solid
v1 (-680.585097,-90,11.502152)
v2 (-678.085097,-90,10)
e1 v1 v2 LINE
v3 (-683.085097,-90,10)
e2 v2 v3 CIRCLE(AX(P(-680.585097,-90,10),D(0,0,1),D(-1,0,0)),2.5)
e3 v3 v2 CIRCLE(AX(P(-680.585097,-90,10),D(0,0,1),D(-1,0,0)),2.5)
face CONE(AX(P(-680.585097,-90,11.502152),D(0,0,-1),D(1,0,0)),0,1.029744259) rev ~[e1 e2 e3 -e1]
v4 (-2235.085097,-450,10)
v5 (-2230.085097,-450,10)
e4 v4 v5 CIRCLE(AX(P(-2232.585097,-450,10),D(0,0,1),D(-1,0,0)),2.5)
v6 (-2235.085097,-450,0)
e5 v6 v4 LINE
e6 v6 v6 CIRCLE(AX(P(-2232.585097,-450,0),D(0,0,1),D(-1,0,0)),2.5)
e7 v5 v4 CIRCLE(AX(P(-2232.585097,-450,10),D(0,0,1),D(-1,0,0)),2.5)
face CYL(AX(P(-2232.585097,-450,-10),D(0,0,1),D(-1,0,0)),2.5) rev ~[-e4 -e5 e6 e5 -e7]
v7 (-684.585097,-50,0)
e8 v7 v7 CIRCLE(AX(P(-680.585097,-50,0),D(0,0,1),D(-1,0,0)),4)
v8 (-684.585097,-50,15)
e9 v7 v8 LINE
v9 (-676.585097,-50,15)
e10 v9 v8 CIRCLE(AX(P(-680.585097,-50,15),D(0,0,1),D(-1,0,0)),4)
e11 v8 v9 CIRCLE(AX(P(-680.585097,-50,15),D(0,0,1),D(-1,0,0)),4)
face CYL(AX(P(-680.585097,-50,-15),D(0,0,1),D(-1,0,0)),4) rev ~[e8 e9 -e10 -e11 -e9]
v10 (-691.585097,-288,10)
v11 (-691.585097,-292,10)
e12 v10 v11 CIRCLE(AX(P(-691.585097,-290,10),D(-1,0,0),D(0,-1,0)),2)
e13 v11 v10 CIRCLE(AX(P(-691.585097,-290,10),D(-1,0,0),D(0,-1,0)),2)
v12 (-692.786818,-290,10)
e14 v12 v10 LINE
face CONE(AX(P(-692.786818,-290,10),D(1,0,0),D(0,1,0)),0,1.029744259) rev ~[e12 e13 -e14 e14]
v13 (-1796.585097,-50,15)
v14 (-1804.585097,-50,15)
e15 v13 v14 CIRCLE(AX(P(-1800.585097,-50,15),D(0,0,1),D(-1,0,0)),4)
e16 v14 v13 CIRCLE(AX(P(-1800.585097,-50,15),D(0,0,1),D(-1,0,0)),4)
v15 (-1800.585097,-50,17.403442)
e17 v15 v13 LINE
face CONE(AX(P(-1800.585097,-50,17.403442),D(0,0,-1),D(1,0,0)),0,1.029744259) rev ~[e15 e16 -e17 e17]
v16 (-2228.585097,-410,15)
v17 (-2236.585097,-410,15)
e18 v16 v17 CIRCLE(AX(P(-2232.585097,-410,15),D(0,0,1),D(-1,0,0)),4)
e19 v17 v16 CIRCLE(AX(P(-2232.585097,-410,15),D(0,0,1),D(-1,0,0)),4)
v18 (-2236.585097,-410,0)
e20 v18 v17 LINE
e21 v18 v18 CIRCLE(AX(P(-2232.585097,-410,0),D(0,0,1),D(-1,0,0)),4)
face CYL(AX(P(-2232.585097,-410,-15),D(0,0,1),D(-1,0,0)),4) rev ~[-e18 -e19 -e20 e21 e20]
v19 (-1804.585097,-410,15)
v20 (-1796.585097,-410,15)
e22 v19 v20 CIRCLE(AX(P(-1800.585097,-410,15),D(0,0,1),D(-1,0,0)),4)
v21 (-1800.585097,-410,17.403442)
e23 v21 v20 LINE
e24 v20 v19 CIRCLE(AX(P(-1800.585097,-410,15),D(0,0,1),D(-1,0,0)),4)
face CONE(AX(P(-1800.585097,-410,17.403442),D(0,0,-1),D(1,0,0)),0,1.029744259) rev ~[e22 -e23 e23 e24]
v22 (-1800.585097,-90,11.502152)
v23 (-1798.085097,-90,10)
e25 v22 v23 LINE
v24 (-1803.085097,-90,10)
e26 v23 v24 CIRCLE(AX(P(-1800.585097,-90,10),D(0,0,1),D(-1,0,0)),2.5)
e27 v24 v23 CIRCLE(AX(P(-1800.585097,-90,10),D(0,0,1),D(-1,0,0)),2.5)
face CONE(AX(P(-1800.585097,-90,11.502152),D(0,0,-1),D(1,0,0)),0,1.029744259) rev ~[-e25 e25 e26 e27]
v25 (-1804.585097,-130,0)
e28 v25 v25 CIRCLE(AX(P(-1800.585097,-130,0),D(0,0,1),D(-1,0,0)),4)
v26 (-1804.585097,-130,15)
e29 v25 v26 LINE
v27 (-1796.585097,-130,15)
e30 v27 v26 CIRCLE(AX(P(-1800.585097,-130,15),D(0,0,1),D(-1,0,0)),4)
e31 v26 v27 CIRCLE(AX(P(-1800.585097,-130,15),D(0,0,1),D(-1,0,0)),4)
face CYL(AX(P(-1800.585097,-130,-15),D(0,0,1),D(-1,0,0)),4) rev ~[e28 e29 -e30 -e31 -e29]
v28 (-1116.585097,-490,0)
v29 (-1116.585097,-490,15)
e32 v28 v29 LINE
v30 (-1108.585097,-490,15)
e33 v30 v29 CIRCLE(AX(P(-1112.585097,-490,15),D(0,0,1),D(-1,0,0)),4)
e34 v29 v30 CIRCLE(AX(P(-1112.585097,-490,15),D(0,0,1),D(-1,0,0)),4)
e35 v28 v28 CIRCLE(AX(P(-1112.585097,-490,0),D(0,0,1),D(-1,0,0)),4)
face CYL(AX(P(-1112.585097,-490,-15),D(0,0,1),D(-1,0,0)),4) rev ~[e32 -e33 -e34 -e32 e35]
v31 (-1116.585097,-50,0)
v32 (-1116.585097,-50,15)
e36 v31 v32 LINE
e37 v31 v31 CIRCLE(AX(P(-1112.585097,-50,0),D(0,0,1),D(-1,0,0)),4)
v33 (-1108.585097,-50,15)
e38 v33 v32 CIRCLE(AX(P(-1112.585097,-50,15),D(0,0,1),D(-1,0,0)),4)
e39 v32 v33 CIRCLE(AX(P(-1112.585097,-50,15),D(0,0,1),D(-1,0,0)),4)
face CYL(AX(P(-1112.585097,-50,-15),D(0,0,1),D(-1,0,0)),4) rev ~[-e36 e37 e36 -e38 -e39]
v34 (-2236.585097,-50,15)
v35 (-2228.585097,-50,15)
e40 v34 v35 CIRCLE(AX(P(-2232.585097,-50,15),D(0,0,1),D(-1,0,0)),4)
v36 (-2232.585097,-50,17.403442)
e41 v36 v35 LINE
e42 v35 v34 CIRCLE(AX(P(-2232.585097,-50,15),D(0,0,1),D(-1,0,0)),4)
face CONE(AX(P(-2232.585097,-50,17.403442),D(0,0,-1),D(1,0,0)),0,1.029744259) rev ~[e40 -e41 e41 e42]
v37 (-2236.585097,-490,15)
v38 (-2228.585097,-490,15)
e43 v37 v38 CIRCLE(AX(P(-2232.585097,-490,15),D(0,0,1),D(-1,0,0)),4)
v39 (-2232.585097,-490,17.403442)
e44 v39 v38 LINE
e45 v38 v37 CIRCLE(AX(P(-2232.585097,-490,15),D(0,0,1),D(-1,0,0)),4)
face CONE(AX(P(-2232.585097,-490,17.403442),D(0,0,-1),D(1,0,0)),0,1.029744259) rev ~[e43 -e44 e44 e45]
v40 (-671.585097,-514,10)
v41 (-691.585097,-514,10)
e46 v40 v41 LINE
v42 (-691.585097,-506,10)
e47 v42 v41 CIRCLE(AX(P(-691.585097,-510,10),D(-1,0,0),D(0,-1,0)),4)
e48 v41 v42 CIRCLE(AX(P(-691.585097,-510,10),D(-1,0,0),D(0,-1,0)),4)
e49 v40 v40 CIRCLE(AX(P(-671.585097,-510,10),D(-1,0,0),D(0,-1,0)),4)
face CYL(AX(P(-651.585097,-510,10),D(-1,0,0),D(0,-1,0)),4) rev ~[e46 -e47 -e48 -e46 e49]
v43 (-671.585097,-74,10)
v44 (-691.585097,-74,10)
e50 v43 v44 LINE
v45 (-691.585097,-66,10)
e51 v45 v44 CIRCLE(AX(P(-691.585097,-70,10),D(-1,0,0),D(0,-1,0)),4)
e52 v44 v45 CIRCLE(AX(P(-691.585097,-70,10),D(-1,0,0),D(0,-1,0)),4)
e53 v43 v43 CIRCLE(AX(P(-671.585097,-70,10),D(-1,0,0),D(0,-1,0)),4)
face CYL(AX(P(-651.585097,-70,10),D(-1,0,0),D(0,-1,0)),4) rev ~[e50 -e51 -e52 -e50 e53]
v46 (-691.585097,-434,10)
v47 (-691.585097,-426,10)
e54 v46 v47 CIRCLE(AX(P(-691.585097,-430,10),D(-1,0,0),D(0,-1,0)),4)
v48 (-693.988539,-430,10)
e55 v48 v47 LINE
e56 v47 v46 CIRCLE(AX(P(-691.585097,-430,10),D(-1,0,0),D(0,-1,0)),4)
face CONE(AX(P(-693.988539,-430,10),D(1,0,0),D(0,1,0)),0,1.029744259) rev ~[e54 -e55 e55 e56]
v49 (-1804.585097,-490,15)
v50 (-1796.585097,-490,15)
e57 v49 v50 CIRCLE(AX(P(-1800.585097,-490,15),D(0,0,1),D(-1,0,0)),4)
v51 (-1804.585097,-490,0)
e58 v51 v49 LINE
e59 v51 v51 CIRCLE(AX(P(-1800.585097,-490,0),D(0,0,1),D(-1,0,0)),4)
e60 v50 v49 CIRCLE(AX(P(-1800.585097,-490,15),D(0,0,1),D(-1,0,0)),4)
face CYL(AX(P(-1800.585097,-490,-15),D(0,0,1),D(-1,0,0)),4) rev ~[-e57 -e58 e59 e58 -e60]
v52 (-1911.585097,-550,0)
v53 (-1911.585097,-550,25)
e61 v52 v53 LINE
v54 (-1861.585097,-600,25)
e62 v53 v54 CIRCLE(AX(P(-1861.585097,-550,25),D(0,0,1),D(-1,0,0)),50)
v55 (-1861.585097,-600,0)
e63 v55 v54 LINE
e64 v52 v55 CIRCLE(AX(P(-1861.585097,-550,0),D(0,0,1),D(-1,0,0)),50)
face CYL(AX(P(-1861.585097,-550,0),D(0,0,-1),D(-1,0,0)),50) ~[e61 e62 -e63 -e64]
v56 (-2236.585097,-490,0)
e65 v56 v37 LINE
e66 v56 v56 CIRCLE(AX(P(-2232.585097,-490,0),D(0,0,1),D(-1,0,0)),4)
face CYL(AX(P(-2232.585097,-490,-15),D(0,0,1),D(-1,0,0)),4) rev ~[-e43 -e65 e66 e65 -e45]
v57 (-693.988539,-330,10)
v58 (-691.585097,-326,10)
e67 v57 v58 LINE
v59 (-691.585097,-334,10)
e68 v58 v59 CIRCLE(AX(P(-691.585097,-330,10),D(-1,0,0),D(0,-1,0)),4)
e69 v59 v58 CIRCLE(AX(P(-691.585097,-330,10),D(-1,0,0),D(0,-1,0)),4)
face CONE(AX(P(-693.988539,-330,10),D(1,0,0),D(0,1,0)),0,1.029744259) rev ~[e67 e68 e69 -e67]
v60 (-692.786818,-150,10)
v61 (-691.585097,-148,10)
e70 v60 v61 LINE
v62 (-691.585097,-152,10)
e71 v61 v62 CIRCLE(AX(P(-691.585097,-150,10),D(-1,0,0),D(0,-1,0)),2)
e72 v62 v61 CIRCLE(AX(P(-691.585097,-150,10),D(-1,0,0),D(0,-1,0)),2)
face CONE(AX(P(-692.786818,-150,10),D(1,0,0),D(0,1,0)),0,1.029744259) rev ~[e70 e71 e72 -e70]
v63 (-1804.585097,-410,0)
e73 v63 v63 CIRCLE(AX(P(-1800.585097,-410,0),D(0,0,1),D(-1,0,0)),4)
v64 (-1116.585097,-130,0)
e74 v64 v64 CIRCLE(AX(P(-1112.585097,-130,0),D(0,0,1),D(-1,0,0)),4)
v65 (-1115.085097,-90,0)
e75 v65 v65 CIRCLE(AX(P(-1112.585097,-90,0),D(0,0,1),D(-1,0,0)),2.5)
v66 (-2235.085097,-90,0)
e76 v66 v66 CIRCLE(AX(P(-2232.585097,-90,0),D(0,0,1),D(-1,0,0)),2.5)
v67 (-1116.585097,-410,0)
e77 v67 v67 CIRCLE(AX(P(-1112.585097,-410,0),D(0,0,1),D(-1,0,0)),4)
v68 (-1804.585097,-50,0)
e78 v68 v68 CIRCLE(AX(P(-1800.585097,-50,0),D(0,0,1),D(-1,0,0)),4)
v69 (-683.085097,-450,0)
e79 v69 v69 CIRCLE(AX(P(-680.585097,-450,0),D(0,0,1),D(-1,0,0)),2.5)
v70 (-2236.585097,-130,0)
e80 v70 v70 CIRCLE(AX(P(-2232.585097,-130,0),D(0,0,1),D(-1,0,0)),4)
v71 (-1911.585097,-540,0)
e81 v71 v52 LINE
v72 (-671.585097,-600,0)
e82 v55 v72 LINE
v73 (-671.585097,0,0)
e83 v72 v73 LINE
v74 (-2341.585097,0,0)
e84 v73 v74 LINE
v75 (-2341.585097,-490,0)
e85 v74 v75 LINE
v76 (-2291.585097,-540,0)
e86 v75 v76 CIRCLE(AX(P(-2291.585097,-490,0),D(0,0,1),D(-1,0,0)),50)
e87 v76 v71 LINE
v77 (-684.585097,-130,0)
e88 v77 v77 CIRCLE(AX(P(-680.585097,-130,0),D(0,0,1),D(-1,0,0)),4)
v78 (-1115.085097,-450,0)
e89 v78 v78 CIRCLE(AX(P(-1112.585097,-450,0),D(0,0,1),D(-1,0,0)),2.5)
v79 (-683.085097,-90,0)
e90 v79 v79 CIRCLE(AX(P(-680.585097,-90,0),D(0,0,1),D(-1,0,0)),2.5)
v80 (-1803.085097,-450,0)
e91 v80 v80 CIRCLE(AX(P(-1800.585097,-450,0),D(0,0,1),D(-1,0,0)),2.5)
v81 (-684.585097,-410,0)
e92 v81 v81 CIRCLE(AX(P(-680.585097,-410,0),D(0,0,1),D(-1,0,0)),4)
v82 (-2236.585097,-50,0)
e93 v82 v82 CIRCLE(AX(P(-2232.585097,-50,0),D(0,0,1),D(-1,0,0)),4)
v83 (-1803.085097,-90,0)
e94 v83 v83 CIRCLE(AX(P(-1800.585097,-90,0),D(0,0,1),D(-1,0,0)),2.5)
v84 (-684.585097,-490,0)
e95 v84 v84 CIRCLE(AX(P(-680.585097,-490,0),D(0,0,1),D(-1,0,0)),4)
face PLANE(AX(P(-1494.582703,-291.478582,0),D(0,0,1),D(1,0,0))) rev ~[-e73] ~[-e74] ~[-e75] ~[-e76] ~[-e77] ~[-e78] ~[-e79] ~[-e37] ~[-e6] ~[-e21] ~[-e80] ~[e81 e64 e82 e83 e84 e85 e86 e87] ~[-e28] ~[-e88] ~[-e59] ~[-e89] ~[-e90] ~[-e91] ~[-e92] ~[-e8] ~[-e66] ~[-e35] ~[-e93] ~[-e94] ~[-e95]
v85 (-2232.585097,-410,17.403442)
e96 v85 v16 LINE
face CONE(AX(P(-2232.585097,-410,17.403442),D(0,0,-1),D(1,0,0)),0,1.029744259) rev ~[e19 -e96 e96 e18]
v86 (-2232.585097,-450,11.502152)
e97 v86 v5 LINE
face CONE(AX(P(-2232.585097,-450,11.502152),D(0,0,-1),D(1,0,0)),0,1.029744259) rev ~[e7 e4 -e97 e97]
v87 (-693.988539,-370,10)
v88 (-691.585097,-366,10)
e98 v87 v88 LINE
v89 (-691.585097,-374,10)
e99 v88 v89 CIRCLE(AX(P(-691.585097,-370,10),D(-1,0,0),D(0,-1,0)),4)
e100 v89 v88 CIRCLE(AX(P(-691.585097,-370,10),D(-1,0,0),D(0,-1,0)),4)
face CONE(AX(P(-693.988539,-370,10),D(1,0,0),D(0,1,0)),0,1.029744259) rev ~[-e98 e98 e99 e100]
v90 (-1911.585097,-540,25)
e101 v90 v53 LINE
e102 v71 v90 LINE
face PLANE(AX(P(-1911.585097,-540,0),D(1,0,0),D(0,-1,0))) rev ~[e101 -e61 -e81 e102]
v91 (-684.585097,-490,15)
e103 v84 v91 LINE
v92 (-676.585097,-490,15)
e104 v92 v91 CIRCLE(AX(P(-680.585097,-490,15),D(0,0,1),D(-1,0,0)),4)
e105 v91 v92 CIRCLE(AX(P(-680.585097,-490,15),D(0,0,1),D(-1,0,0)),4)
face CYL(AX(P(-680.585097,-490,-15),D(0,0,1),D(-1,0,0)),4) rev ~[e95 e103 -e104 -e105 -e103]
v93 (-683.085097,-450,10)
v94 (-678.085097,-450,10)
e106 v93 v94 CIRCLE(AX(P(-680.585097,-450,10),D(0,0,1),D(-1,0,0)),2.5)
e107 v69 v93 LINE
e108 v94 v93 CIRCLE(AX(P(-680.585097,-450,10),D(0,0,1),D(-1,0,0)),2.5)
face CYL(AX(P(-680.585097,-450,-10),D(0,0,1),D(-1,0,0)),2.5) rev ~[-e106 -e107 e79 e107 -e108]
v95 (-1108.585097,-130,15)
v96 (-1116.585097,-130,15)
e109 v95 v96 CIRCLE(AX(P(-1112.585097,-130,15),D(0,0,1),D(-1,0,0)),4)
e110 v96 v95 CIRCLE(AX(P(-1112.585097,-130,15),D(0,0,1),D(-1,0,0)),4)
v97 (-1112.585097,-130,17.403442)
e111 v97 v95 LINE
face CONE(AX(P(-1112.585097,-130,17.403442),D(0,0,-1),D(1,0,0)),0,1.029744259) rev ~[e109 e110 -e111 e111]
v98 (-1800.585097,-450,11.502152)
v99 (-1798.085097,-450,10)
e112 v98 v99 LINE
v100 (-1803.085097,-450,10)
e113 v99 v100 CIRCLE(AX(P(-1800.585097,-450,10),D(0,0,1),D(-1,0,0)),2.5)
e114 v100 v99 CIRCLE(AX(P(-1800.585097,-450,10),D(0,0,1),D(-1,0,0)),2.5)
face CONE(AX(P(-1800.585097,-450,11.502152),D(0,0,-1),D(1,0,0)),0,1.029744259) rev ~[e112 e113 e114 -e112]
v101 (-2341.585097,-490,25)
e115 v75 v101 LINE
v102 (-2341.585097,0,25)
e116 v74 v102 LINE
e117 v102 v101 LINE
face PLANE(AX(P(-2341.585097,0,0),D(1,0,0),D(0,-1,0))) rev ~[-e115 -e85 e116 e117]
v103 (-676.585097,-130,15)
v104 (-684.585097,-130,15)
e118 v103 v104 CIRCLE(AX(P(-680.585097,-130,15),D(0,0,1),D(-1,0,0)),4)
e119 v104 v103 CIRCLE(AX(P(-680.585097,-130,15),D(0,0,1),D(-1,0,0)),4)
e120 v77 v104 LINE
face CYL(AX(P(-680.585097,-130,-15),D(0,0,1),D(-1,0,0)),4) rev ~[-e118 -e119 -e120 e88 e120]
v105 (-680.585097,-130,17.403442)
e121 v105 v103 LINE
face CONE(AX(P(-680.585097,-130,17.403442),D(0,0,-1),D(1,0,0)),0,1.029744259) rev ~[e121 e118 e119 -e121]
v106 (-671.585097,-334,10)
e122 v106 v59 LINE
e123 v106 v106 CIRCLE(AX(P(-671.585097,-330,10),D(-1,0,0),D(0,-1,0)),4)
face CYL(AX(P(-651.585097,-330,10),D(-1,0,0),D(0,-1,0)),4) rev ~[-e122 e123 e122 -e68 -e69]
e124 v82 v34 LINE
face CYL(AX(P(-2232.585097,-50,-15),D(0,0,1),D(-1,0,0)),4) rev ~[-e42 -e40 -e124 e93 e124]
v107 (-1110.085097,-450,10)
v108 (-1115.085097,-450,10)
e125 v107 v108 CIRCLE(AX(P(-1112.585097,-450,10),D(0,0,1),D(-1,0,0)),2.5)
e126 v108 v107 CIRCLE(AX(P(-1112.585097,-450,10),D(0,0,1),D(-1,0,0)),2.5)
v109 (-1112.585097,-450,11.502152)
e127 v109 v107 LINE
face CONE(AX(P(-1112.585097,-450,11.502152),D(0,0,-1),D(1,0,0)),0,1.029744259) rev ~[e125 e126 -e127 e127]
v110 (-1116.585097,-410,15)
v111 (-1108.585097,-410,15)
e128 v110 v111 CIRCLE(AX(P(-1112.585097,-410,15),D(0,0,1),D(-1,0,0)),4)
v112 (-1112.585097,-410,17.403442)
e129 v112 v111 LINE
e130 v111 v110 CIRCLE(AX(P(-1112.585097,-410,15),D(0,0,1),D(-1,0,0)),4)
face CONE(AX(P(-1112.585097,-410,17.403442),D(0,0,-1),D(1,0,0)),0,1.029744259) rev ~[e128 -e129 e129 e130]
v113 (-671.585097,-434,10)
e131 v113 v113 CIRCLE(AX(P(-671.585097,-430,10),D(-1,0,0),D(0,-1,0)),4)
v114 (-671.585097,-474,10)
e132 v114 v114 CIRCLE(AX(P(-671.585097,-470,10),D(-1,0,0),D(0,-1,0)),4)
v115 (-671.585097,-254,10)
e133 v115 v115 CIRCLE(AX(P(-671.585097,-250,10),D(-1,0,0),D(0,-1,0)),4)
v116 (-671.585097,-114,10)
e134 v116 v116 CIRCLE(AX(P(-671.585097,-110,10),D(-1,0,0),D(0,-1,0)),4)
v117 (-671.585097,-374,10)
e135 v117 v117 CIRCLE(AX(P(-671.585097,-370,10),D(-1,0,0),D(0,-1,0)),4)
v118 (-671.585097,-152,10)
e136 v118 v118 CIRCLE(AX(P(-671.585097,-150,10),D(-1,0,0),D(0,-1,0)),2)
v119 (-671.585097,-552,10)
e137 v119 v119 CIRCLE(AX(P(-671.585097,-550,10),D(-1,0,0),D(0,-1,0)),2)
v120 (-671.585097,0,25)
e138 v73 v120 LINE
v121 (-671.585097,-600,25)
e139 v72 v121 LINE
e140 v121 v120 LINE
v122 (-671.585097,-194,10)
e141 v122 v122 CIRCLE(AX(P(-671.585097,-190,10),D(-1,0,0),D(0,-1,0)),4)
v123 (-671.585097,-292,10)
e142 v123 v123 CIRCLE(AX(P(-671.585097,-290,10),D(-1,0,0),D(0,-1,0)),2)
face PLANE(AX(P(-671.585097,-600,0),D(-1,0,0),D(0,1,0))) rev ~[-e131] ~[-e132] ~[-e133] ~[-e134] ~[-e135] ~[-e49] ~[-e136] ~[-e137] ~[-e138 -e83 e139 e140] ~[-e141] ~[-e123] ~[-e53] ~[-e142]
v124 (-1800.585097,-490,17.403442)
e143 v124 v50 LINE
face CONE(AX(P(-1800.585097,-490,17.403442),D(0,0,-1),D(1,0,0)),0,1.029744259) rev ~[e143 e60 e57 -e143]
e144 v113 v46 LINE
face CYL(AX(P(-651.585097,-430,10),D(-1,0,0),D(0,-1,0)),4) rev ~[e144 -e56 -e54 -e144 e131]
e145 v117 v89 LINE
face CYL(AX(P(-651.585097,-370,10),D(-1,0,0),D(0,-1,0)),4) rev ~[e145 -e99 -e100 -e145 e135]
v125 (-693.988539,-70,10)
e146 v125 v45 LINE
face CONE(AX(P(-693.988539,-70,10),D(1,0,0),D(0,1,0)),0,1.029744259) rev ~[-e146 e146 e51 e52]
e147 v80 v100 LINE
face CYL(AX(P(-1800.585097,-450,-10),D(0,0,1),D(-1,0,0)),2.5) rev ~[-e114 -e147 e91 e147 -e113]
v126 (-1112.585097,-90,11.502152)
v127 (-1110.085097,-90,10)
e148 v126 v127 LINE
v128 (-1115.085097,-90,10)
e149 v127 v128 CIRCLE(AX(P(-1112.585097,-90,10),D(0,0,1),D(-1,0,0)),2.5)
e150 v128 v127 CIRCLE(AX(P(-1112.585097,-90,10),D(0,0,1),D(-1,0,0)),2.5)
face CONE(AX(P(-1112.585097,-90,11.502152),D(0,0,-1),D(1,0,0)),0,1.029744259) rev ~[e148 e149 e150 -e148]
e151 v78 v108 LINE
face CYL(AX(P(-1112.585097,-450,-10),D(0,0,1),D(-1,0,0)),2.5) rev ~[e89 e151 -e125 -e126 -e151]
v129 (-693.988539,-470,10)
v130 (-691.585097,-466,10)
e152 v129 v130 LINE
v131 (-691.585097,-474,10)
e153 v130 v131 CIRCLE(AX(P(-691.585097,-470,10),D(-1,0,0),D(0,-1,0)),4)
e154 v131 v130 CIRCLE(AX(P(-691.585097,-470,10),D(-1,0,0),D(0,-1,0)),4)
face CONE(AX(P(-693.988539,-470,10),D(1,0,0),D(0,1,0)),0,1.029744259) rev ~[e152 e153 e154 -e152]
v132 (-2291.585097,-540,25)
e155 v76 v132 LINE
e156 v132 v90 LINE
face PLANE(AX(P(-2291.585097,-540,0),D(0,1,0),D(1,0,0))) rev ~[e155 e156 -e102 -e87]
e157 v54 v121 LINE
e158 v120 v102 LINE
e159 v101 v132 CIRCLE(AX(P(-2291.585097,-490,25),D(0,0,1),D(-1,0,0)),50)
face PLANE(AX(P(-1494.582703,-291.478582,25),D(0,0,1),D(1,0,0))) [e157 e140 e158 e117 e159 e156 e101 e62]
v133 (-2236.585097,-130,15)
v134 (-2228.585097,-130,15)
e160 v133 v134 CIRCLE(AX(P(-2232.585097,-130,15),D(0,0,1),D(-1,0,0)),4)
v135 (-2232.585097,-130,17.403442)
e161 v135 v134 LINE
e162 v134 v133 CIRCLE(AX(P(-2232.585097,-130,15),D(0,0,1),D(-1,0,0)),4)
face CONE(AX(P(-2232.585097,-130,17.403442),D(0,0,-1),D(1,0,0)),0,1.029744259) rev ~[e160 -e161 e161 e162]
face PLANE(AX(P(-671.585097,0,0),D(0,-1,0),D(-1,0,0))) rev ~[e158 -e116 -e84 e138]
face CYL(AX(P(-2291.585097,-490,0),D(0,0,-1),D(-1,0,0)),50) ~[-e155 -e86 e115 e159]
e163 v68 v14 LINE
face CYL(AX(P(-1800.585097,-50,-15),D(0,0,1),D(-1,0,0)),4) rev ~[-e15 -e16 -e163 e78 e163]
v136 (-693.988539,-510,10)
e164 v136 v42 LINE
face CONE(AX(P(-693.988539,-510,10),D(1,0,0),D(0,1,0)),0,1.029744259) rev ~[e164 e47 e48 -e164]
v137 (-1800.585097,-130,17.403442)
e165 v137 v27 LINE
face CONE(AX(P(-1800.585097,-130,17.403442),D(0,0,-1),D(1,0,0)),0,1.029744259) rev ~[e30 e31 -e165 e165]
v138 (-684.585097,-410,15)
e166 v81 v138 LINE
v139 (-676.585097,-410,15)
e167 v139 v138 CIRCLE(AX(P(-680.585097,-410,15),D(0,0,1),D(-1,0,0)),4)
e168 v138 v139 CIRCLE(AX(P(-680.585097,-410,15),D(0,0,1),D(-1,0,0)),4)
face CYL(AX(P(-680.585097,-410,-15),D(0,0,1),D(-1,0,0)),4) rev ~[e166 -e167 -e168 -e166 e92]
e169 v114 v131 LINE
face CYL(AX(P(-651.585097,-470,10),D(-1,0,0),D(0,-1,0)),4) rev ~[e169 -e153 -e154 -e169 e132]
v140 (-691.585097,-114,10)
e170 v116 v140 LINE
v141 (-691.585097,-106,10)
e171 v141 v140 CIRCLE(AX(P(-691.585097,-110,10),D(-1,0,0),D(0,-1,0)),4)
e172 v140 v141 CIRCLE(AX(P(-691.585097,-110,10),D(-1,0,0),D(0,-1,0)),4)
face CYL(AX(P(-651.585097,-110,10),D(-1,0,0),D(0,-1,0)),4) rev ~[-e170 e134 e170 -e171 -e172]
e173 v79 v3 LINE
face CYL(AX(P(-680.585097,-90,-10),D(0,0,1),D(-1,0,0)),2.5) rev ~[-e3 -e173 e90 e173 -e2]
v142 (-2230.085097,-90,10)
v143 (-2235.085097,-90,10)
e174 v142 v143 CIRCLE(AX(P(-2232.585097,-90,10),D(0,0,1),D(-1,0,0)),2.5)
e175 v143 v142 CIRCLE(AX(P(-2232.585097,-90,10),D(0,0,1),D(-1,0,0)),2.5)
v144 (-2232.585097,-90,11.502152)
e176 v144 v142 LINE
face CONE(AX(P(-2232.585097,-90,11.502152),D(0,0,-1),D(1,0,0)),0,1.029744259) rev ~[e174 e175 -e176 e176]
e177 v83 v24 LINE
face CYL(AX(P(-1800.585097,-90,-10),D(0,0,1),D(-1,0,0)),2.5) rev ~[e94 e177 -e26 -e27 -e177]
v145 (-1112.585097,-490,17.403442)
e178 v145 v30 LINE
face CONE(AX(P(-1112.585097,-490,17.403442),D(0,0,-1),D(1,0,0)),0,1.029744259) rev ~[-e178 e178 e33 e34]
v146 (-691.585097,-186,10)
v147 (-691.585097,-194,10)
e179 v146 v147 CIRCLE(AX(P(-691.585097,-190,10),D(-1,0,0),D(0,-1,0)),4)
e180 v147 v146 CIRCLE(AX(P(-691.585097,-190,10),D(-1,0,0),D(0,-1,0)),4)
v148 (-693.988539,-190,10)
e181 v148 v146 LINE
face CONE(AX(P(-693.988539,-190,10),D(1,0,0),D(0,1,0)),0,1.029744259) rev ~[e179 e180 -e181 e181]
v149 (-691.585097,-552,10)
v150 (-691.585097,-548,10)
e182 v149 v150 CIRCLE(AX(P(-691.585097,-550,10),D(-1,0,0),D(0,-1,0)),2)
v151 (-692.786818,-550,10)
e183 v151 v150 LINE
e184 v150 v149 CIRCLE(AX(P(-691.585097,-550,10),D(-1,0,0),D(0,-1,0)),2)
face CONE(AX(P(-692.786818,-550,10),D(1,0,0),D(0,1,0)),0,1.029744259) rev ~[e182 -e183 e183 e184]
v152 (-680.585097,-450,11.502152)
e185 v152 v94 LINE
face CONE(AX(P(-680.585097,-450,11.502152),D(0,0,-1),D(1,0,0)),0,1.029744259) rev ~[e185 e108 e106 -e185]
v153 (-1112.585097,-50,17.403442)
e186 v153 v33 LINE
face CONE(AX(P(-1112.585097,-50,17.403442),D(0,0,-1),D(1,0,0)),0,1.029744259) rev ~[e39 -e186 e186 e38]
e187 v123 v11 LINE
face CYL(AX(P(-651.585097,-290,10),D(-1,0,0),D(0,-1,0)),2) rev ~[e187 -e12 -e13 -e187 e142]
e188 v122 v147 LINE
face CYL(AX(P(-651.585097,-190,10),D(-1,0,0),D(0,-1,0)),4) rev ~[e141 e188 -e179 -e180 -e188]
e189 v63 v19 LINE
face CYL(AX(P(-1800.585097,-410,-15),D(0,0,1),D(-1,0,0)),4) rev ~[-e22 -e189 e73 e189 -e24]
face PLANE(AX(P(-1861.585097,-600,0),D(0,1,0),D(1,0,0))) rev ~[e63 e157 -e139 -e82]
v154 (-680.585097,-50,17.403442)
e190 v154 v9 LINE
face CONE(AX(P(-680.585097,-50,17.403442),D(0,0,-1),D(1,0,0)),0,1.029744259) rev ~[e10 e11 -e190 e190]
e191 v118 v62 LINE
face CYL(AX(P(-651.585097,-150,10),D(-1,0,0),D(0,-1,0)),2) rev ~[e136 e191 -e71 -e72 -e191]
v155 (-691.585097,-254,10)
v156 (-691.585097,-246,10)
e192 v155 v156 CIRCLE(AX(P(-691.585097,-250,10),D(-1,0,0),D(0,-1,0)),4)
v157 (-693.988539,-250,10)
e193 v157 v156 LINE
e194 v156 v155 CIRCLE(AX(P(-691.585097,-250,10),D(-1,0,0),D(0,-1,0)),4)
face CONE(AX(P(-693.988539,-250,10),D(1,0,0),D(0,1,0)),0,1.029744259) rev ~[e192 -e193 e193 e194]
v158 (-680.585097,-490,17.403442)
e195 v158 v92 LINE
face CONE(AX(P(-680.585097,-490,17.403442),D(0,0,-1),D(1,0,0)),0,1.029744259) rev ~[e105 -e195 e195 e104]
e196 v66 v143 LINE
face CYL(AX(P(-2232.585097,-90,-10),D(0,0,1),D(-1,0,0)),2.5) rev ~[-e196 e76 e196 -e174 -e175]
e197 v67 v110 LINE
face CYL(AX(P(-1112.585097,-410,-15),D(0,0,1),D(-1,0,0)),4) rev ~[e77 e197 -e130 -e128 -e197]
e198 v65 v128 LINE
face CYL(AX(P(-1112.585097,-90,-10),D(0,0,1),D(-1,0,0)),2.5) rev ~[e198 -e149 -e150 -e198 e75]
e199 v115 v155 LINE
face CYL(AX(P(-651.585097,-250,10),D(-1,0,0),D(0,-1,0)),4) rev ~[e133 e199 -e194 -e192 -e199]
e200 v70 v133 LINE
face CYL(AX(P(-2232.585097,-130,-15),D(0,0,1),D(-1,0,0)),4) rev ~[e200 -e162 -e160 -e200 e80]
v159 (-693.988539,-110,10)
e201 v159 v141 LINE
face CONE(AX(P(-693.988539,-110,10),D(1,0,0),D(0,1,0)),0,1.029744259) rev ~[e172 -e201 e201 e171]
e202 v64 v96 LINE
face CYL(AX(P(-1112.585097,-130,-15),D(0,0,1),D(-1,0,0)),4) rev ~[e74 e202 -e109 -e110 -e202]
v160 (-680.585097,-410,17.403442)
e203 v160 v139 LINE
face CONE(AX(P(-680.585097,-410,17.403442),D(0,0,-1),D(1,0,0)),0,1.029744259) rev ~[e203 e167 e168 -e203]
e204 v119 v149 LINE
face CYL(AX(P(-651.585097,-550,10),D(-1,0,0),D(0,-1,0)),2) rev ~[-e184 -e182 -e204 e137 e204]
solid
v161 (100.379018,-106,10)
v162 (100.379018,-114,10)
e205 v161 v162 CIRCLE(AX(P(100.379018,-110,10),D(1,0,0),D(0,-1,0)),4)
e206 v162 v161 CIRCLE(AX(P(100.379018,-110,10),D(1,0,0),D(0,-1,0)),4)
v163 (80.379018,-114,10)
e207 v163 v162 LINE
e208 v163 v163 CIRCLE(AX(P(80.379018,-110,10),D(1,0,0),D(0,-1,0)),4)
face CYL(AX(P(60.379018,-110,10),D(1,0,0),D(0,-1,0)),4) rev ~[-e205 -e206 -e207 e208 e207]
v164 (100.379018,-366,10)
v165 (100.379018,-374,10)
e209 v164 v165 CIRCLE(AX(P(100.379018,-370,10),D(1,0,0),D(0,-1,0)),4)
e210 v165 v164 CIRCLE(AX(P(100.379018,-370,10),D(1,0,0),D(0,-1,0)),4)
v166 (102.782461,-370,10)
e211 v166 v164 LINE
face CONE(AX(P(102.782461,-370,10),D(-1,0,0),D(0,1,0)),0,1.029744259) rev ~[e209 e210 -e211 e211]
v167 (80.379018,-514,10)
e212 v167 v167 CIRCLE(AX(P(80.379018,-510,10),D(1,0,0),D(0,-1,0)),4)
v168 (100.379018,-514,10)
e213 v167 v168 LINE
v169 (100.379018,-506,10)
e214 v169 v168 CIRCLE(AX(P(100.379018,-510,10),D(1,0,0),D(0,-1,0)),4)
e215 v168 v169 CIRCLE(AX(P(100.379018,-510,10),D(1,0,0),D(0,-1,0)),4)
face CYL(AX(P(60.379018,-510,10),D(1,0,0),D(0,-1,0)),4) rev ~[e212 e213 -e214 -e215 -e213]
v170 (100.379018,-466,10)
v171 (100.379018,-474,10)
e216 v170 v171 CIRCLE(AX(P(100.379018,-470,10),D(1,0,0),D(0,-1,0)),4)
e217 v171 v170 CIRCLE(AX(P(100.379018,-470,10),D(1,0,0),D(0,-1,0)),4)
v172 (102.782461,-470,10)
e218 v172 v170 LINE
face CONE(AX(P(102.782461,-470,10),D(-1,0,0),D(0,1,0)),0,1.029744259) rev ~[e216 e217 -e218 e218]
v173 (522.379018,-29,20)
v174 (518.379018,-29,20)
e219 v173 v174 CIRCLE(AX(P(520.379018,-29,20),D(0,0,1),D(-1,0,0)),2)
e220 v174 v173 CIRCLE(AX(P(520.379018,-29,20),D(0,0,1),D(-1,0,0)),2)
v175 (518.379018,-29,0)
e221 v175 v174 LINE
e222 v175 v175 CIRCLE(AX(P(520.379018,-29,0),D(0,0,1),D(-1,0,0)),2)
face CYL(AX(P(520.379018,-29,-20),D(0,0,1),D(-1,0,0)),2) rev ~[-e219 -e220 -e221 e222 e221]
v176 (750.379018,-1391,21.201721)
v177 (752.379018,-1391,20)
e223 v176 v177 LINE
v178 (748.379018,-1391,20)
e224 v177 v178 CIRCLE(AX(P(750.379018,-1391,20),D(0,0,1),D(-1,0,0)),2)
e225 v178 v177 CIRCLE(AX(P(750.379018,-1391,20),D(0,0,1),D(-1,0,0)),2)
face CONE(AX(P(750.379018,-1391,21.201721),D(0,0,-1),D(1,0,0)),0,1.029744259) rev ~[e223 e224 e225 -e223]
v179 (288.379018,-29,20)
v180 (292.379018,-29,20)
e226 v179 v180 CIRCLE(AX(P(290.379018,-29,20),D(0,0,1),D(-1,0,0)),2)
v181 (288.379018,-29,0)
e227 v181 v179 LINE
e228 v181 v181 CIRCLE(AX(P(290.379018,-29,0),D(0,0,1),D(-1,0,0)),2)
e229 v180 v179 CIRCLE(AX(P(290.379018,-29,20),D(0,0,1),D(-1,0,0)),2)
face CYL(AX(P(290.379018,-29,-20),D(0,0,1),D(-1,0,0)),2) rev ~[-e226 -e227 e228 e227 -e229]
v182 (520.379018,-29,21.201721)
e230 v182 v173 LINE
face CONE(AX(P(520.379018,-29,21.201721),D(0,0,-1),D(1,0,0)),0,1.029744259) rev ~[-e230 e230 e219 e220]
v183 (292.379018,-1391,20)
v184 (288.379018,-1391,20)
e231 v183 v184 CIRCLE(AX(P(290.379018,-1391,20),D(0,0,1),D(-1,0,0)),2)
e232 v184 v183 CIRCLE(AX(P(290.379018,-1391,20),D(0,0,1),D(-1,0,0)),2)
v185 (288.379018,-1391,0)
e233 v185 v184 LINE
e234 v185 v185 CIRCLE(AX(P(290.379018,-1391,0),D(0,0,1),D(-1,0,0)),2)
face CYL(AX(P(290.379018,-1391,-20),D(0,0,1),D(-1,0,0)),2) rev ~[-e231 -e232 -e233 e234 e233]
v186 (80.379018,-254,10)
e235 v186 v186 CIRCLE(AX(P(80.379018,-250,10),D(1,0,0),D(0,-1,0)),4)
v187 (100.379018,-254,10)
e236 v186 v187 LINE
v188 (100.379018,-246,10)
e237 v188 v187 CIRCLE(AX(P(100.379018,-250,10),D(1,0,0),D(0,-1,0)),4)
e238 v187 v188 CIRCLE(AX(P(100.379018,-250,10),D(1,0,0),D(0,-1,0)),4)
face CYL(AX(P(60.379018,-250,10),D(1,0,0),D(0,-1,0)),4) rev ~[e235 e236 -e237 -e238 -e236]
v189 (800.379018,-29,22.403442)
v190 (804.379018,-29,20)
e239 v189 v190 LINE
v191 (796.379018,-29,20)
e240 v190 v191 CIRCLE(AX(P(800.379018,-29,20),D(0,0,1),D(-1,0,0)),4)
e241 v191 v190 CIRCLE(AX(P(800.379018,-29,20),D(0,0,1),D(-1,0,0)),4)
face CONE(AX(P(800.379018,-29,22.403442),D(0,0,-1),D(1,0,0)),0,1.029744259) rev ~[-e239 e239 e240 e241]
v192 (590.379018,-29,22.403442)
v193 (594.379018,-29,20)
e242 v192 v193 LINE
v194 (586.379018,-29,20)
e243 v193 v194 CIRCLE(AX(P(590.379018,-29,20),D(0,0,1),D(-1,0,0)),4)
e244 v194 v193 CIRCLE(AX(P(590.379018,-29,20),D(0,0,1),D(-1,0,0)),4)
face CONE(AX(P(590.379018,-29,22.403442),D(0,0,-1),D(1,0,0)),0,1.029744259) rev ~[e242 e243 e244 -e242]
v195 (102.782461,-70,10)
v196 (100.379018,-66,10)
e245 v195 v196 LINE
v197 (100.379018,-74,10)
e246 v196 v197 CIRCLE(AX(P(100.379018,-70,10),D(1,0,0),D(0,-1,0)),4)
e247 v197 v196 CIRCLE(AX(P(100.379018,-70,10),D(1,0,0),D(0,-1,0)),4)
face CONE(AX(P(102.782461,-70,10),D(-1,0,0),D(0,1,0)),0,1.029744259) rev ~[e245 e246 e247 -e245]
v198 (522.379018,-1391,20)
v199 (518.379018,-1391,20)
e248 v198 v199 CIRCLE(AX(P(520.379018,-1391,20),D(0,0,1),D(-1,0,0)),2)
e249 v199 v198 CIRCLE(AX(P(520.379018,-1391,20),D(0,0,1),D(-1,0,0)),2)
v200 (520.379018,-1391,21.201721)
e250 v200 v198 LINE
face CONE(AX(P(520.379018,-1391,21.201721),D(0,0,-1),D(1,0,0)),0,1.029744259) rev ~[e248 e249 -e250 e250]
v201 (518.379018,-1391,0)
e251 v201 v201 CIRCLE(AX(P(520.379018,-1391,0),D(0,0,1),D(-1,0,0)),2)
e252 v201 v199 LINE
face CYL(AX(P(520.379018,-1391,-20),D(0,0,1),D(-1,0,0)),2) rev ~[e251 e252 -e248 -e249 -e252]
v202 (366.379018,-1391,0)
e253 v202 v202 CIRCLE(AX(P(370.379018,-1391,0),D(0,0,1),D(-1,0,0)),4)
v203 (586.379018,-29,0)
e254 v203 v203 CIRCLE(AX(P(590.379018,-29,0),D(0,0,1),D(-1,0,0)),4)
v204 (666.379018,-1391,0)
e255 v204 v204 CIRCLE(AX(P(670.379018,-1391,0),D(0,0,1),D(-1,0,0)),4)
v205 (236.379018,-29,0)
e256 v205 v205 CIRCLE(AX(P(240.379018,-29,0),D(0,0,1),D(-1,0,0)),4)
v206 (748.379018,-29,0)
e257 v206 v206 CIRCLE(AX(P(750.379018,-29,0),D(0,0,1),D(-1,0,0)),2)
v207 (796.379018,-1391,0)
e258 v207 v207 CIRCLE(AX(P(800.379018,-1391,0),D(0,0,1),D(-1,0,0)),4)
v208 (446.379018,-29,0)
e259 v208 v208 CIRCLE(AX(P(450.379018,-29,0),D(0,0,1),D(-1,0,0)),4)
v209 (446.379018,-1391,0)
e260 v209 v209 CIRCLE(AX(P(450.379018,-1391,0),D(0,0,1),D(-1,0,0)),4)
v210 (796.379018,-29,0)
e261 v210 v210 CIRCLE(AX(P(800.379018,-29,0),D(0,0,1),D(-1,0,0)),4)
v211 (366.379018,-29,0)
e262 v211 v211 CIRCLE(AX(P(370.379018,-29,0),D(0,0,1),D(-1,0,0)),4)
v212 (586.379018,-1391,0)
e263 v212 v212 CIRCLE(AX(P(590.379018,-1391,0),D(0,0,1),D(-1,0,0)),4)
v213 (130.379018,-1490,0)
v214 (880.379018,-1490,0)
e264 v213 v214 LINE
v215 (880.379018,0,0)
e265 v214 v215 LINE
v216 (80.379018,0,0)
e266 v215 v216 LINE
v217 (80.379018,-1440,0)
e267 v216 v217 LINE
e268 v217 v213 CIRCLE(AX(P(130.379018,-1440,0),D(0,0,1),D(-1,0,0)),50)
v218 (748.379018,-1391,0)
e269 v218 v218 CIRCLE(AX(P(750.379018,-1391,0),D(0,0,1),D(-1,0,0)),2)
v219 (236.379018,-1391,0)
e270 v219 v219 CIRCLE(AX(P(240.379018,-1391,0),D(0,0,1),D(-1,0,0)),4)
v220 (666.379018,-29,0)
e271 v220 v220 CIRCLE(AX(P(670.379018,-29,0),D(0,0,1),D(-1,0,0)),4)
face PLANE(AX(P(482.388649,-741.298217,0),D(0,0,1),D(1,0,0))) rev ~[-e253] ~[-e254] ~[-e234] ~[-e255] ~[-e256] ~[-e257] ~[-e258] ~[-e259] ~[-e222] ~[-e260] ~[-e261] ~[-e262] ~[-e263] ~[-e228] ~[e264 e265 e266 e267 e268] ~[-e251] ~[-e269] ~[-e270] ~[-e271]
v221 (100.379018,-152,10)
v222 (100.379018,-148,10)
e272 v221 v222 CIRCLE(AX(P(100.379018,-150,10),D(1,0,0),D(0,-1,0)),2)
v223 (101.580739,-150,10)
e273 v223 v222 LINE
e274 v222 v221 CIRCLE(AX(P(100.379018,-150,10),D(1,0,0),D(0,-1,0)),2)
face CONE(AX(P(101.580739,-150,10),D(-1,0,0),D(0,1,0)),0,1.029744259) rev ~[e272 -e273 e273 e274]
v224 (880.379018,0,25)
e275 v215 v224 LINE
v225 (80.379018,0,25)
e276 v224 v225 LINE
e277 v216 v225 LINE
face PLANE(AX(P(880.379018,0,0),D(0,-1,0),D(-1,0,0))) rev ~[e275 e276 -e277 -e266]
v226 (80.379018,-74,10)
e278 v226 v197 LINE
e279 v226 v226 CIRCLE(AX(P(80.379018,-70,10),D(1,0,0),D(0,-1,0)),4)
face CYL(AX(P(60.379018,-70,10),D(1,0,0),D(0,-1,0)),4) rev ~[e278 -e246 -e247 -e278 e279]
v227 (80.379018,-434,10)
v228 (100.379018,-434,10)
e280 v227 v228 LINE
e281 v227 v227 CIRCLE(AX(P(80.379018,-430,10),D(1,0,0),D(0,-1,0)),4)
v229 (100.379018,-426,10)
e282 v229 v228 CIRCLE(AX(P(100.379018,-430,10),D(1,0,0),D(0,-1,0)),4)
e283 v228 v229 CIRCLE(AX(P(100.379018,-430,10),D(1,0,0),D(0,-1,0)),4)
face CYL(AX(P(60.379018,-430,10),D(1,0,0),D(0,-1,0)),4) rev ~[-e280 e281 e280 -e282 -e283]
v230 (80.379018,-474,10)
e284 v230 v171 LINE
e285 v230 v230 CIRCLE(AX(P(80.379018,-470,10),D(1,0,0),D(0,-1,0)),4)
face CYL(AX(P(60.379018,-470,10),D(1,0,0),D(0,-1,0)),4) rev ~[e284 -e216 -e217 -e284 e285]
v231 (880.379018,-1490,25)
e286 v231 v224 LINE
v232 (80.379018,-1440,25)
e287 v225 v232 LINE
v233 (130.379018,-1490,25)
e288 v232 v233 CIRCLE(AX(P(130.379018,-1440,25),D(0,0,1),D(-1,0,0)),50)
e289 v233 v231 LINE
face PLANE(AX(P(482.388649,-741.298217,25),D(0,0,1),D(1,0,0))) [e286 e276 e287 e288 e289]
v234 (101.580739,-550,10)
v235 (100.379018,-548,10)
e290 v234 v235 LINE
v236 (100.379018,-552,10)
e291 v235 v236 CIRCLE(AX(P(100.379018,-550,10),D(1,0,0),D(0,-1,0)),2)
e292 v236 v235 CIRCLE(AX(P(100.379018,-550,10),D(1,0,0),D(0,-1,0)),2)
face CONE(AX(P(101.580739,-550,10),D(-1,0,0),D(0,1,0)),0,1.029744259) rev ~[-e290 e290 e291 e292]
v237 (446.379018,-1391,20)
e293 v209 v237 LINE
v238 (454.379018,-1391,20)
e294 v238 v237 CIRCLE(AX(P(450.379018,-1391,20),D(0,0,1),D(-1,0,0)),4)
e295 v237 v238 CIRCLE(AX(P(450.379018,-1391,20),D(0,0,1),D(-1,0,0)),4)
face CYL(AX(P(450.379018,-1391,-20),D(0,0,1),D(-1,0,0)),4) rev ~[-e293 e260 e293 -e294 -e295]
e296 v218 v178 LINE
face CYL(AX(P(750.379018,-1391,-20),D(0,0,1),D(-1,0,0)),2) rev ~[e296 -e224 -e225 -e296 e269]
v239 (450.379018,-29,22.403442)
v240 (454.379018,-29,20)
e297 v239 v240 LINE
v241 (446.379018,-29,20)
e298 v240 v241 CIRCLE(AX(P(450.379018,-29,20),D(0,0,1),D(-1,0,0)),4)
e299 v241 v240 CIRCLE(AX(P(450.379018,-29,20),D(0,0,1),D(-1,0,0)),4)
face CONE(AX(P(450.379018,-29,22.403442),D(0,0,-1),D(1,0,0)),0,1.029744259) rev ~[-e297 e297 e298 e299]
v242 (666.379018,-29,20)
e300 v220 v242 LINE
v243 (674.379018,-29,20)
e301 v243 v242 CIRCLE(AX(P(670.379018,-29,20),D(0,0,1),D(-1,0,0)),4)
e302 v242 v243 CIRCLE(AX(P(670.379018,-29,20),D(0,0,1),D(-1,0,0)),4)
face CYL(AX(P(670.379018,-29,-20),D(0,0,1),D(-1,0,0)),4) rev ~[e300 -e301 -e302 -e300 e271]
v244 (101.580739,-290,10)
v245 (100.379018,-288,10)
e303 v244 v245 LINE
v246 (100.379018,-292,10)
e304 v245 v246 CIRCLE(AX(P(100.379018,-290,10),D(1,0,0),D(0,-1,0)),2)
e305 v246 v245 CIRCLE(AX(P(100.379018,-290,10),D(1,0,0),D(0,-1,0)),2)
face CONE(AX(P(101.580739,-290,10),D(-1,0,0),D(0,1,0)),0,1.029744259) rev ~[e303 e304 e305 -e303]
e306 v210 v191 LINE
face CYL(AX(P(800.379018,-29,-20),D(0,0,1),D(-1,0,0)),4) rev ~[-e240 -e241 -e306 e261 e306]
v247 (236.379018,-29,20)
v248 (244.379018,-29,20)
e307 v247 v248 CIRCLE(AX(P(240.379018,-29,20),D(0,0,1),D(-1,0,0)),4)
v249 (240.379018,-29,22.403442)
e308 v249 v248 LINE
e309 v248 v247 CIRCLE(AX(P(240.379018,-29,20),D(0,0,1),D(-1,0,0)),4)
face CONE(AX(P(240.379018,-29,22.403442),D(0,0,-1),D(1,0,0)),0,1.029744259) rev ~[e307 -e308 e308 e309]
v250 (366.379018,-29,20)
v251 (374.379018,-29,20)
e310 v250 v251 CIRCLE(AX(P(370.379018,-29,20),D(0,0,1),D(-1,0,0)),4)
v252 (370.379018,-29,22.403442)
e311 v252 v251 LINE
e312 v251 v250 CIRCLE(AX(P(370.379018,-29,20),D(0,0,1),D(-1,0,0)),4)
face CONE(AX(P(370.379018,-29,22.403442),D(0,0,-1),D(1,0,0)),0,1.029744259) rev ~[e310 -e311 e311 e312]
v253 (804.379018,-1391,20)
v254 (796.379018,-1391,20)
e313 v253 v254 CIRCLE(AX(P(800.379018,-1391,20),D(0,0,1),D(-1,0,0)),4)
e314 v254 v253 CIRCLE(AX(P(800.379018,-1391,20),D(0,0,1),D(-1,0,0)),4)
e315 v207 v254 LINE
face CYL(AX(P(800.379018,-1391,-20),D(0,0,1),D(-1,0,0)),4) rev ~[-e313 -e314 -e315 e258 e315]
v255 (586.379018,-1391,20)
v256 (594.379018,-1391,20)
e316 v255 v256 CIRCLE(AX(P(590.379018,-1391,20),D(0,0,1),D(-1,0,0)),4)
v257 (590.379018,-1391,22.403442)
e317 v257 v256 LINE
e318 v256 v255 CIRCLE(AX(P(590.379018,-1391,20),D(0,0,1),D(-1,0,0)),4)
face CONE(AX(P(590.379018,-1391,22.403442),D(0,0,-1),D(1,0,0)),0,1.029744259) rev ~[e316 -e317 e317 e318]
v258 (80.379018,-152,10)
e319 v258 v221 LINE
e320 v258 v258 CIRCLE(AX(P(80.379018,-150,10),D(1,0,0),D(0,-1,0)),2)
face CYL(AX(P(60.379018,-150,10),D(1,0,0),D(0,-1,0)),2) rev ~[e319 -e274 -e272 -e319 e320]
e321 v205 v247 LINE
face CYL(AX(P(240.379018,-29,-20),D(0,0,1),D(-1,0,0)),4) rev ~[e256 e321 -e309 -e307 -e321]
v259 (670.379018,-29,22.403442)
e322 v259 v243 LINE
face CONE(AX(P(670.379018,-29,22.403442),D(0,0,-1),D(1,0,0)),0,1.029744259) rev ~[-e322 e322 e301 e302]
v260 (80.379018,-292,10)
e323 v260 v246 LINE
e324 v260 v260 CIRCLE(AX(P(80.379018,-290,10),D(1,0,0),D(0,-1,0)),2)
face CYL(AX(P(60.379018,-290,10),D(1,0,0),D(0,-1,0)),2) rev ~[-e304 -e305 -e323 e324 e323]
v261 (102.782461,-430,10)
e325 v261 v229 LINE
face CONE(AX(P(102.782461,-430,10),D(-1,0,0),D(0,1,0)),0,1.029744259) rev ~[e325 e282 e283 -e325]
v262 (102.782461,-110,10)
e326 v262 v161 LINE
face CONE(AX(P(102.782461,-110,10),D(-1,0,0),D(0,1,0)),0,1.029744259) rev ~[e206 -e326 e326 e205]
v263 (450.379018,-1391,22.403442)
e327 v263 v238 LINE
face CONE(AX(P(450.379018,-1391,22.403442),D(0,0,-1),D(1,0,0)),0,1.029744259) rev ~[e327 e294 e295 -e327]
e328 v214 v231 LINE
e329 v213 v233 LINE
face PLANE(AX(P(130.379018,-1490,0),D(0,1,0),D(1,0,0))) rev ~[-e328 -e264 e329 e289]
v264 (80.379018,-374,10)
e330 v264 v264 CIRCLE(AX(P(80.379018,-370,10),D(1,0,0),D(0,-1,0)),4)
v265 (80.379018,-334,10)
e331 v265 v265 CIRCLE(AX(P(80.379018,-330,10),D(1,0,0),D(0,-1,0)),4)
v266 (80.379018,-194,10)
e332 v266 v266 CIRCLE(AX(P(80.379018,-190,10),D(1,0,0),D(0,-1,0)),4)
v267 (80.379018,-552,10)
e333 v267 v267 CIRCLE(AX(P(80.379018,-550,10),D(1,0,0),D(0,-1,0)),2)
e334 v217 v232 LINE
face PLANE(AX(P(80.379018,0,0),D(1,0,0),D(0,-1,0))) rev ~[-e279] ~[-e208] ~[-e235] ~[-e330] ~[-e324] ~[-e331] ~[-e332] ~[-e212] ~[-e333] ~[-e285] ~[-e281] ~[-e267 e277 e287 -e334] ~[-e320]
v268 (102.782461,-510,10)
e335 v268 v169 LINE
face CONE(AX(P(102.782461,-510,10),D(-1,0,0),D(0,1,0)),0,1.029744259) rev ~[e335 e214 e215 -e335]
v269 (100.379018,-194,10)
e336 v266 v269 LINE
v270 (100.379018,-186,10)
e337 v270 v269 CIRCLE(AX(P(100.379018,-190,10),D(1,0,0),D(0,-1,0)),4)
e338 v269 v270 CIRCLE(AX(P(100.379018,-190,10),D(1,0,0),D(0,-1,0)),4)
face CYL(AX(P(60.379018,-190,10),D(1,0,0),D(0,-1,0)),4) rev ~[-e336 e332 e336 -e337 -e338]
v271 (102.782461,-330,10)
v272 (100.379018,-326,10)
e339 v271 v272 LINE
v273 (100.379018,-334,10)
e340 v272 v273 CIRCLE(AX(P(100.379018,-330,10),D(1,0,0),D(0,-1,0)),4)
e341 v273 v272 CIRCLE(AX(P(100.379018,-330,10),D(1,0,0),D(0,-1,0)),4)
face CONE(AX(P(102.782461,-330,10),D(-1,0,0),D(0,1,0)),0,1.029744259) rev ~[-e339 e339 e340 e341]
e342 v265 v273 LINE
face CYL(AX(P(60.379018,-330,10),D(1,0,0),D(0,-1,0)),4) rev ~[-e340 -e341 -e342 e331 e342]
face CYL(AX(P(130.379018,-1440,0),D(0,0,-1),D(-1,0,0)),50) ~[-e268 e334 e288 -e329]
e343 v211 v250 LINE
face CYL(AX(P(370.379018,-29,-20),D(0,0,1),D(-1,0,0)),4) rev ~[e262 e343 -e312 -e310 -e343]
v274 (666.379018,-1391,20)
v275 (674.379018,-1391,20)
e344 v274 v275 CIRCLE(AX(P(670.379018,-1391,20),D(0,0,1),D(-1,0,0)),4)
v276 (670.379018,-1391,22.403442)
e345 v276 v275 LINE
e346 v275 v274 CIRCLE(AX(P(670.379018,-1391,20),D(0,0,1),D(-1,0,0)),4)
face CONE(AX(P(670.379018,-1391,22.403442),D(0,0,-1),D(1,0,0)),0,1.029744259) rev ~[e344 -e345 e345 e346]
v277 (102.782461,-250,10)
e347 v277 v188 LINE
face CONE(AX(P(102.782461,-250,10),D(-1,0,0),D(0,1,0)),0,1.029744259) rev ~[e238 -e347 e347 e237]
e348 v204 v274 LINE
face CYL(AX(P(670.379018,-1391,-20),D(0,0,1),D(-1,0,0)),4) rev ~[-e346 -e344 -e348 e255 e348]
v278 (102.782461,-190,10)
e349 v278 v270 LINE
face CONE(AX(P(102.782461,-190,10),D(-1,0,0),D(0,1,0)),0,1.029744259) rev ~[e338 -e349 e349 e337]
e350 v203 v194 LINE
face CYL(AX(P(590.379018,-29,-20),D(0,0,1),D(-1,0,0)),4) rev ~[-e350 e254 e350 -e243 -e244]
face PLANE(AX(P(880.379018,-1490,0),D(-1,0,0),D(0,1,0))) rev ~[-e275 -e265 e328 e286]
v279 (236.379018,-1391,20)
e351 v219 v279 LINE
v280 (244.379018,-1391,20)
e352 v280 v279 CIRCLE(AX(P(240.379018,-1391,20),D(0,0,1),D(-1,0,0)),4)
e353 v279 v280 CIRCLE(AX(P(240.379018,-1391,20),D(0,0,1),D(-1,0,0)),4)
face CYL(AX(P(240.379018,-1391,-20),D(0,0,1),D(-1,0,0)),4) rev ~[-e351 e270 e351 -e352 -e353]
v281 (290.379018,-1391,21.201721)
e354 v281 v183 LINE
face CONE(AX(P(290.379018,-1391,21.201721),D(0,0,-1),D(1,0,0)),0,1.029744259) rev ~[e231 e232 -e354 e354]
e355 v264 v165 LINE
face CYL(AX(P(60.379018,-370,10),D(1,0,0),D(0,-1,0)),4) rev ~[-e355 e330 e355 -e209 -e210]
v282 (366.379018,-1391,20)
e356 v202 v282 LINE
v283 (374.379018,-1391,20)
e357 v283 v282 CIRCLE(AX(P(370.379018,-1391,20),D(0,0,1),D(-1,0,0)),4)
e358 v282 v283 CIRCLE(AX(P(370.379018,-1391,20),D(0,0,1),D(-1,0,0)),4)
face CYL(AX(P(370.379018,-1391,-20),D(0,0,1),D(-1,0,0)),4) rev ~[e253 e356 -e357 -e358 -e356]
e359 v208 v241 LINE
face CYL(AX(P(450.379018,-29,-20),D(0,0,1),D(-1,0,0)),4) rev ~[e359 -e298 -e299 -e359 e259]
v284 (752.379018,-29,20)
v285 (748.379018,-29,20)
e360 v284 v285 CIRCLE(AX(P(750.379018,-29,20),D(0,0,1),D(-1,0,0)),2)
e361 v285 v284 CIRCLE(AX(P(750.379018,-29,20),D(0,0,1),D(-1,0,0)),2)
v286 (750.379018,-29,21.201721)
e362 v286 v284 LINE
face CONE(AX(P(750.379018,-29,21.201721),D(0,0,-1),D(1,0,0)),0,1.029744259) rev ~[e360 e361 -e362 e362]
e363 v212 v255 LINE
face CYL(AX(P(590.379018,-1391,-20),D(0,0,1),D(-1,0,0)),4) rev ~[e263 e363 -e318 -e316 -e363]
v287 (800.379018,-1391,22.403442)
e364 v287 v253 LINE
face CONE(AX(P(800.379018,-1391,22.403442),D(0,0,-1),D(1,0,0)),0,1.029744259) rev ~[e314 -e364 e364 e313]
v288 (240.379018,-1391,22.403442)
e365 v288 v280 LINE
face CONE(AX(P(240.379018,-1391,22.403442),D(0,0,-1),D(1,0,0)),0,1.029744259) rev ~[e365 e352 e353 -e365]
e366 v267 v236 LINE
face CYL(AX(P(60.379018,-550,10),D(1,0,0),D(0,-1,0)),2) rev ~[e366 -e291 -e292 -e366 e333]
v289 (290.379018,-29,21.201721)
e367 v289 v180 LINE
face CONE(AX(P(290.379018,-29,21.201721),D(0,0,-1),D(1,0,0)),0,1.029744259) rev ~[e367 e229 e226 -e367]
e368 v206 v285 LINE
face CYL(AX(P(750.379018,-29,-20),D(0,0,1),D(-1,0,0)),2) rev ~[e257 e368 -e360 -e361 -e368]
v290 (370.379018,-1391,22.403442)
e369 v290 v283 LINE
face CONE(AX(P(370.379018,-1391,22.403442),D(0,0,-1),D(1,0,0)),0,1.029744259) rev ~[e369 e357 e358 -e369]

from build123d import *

# Parameters (mm, degrees)
F2_DEPTH  = 25
F3_DEPTH  = 25
F5_D      = 8
F5_DEPTH  = 15
F5_TIP    = 2.4034424761
F6_D      = 5
F6_DEPTH  = 10
F6_TIP    = 1.5021515476
F8_D      = 8
F8_DEPTH  = 20
F8_TIP    = 2.4034424761
F9_D      = 4
F9_DEPTH  = 20
F9_TIP    = 1.2017212381
F10_D     = 8
F10_DEPTH = 20
F10_START = 751.9641149
F10_TIP   = 2.4034424761
F11_D     = 4
F11_DEPTH = 20
F11_START = 751.9641149
F11_TIP   = 1.2017212381
F13_D     = 4
F13_DEPTH = 20
F13_TIP   = 1.2017212381
F14_D     = 8
F14_DEPTH = 20
F14_TIP   = 2.4034424761


with BuildPart() as f2:
    # F0 (on Top) → F2 (new body)
    with BuildSketch(Plane.XY):
        with BuildLine():
            Line((-671.5850967169, 0), (-2341.5850967169, 0))
            Line((-2341.5850967169, 0), (-2341.5850967169, -490))
            ThreePointArc((-2341.5850967169, -490), (-2326.9404357762, -525.3553390593), (-2291.5850967169, -540))
            Line((-2291.5850967169, -540), (-1911.5850967169, -540))
            Line((-1911.5850967169, -540), (-1911.5850967169, -550))
            ThreePointArc((-1911.5850967169, -550), (-1896.9404357762, -585.3553390593), (-1861.5850967169, -600))
            Line((-1861.5850967169, -600), (-671.5850967169, -600))
            Line((-671.5850967169, -600), (-671.5850967169, 0))
        make_face()
    extrude(amount=F2_DEPTH)

    # F5
    with Locations(Plane(origin=(0, 0, 0), x_dir=(1, 0, 0), z_dir=(0, 0, -1))):
        with Locations((-2232.5850967169, 490), (-2232.5850967169, 410), (-1800.5850967169, 490), (-1800.5850967169, 410), (-1800.5850967169, 130), (-1800.5850967169, 50), (-2232.5850967169, 50), (-2232.5850967169, 130), (-1112.5850967169, 490), (-1112.5850967169, 410), (-1112.5850967169, 130), (-1112.5850967169, 50), (-680.5850967169, 50), (-680.5850967169, 130), (-680.5850967169, 410), (-680.5850967169, 490)):
            Hole(F5_D / 2, depth=F5_DEPTH)
            with Locations((0, 0, -(F5_DEPTH + F5_TIP / 2))):  # 118° drill point
                Cone(0, F5_D / 2, F5_TIP, mode=Mode.SUBTRACT)

    # F6
    with Locations(Plane(origin=(0, 0, 0), x_dir=(1, 0, 0), z_dir=(0, 0, -1))):
        with Locations((-2232.5850967169, 450), (-1800.5850967169, 450), (-1800.5850967169, 90), (-2232.5850967169, 90), (-1112.5850967169, 450), (-680.5850967169, 450), (-680.5850967169, 90), (-1112.5850967169, 90)):
            Hole(F6_D / 2, depth=F6_DEPTH)
            with Locations((0, 0, -(F6_DEPTH + F6_TIP / 2))):  # 118° drill point
                Cone(0, F6_D / 2, F6_TIP, mode=Mode.SUBTRACT)

    # F8
    with Locations(Plane.YZ.offset(-671.5850967169)):
        with Locations((-510, 10), (-470, 10), (-430, 10), (-370, 10), (-330, 10), (-250, 10), (-190, 10), (-110, 10), (-70, 10)):
            Hole(F8_D / 2, depth=F8_DEPTH)
            with Locations((0, 0, -(F8_DEPTH + F8_TIP / 2))):  # 118° drill point
                Cone(0, F8_D / 2, F8_TIP, mode=Mode.SUBTRACT)

    # F9
    with Locations(Plane.YZ.offset(-671.5850967169)):
        with Locations((-150, 10), (-290, 10), (-550, 10)):
            Hole(F9_D / 2, depth=F9_DEPTH)
            with Locations((0, 0, -(F9_DEPTH + F9_TIP / 2))):  # 118° drill point
                Cone(0, F9_D / 2, F9_TIP, mode=Mode.SUBTRACT)


with BuildPart() as f3:
    # F1 (on Top) → F3 (new body)
    with BuildSketch(Plane.XY):
        with BuildLine():
            Line((880.3790181875, 0), (80.3790181875, 0))
            Line((80.3790181875, 0), (80.3790181875, -1440))
            ThreePointArc((80.3790181875, -1440), (95.0236791282, -1475.3553390593), (130.3790181875, -1490))
            Line((130.3790181875, -1490), (880.3790181875, -1490))
            Line((880.3790181875, -1490), (880.3790181875, 0))
        make_face()
    extrude(amount=F3_DEPTH)

    # F10
    # its depths count from where the whole tool has entered the part; down to there all is cleared
    with Locations(Plane(origin=(-671.5850967169, 0, 0), x_dir=(0, 1, 0), z_dir=(-1, 0, 0))):
        with Locations((-510, -10), (-470, -10), (-430, -10), (-370, -10), (-330, -10), (-250, -10), (-190, -10), (-110, -10), (-70, -10)):
            Hole(F10_D / 2, depth=F10_START)
    with Locations(Plane(origin=(-671.5850967169, 0, 0), x_dir=(0, 1, 0), z_dir=(-1, 0, 0)).offset(-F10_START)):
        with Locations((-510, -10), (-470, -10), (-430, -10), (-370, -10), (-330, -10), (-250, -10), (-190, -10), (-110, -10), (-70, -10)):
            Hole(F10_D / 2, depth=F10_DEPTH)
            with Locations((0, 0, -(F10_DEPTH + F10_TIP / 2))):  # 118° drill point
                Cone(0, F10_D / 2, F10_TIP, mode=Mode.SUBTRACT)

    # F11
    # its depths count from where the whole tool has entered the part; down to there all is cleared
    with Locations(Plane(origin=(-671.5850967169, 0, 0), x_dir=(0, 1, 0), z_dir=(-1, 0, 0))):
        with Locations((-290, -10), (-150, -10), (-550, -10)):
            Hole(F11_D / 2, depth=F11_START)
    with Locations(Plane(origin=(-671.5850967169, 0, 0), x_dir=(0, 1, 0), z_dir=(-1, 0, 0)).offset(-F11_START)):
        with Locations((-290, -10), (-150, -10), (-550, -10)):
            Hole(F11_D / 2, depth=F11_DEPTH)
            with Locations((0, 0, -(F11_DEPTH + F11_TIP / 2))):  # 118° drill point
                Cone(0, F11_D / 2, F11_TIP, mode=Mode.SUBTRACT)

    # F13
    with Locations(Plane(origin=(0, 0, 0), x_dir=(1, 0, 0), z_dir=(0, 0, -1))):
        with Locations((750.3790181875, 1391), (520.3790181875, 1391), (290.3790181875, 1391), (290.3790181875, 29), (520.3790181875, 29), (750.3790181875, 29)):
            Hole(F13_D / 2, depth=F13_DEPTH)
            with Locations((0, 0, -(F13_DEPTH + F13_TIP / 2))):  # 118° drill point
                Cone(0, F13_D / 2, F13_TIP, mode=Mode.SUBTRACT)

    # F14
    with Locations(Plane(origin=(0, 0, 0), x_dir=(1, 0, 0), z_dir=(0, 0, -1))):
        with Locations((800.3790181875, 1391), (670.3790181875, 1391), (590.3790181875, 1391), (450.3790181875, 1391), (370.3790181875, 1391), (240.3790181875, 1391), (240.3790181875, 29), (370.3790181875, 29), (450.3790181875, 29), (590.3790181875, 29), (670.3790181875, 29), (800.3790181875, 29)):
            Hole(F14_D / 2, depth=F14_DEPTH)
            with Locations((0, 0, -(F14_DEPTH + F14_TIP / 2))):  # 118° drill point
                Cone(0, F14_D / 2, F14_TIP, mode=Mode.SUBTRACT)


solid = Compound([f2.part, f3.part])
